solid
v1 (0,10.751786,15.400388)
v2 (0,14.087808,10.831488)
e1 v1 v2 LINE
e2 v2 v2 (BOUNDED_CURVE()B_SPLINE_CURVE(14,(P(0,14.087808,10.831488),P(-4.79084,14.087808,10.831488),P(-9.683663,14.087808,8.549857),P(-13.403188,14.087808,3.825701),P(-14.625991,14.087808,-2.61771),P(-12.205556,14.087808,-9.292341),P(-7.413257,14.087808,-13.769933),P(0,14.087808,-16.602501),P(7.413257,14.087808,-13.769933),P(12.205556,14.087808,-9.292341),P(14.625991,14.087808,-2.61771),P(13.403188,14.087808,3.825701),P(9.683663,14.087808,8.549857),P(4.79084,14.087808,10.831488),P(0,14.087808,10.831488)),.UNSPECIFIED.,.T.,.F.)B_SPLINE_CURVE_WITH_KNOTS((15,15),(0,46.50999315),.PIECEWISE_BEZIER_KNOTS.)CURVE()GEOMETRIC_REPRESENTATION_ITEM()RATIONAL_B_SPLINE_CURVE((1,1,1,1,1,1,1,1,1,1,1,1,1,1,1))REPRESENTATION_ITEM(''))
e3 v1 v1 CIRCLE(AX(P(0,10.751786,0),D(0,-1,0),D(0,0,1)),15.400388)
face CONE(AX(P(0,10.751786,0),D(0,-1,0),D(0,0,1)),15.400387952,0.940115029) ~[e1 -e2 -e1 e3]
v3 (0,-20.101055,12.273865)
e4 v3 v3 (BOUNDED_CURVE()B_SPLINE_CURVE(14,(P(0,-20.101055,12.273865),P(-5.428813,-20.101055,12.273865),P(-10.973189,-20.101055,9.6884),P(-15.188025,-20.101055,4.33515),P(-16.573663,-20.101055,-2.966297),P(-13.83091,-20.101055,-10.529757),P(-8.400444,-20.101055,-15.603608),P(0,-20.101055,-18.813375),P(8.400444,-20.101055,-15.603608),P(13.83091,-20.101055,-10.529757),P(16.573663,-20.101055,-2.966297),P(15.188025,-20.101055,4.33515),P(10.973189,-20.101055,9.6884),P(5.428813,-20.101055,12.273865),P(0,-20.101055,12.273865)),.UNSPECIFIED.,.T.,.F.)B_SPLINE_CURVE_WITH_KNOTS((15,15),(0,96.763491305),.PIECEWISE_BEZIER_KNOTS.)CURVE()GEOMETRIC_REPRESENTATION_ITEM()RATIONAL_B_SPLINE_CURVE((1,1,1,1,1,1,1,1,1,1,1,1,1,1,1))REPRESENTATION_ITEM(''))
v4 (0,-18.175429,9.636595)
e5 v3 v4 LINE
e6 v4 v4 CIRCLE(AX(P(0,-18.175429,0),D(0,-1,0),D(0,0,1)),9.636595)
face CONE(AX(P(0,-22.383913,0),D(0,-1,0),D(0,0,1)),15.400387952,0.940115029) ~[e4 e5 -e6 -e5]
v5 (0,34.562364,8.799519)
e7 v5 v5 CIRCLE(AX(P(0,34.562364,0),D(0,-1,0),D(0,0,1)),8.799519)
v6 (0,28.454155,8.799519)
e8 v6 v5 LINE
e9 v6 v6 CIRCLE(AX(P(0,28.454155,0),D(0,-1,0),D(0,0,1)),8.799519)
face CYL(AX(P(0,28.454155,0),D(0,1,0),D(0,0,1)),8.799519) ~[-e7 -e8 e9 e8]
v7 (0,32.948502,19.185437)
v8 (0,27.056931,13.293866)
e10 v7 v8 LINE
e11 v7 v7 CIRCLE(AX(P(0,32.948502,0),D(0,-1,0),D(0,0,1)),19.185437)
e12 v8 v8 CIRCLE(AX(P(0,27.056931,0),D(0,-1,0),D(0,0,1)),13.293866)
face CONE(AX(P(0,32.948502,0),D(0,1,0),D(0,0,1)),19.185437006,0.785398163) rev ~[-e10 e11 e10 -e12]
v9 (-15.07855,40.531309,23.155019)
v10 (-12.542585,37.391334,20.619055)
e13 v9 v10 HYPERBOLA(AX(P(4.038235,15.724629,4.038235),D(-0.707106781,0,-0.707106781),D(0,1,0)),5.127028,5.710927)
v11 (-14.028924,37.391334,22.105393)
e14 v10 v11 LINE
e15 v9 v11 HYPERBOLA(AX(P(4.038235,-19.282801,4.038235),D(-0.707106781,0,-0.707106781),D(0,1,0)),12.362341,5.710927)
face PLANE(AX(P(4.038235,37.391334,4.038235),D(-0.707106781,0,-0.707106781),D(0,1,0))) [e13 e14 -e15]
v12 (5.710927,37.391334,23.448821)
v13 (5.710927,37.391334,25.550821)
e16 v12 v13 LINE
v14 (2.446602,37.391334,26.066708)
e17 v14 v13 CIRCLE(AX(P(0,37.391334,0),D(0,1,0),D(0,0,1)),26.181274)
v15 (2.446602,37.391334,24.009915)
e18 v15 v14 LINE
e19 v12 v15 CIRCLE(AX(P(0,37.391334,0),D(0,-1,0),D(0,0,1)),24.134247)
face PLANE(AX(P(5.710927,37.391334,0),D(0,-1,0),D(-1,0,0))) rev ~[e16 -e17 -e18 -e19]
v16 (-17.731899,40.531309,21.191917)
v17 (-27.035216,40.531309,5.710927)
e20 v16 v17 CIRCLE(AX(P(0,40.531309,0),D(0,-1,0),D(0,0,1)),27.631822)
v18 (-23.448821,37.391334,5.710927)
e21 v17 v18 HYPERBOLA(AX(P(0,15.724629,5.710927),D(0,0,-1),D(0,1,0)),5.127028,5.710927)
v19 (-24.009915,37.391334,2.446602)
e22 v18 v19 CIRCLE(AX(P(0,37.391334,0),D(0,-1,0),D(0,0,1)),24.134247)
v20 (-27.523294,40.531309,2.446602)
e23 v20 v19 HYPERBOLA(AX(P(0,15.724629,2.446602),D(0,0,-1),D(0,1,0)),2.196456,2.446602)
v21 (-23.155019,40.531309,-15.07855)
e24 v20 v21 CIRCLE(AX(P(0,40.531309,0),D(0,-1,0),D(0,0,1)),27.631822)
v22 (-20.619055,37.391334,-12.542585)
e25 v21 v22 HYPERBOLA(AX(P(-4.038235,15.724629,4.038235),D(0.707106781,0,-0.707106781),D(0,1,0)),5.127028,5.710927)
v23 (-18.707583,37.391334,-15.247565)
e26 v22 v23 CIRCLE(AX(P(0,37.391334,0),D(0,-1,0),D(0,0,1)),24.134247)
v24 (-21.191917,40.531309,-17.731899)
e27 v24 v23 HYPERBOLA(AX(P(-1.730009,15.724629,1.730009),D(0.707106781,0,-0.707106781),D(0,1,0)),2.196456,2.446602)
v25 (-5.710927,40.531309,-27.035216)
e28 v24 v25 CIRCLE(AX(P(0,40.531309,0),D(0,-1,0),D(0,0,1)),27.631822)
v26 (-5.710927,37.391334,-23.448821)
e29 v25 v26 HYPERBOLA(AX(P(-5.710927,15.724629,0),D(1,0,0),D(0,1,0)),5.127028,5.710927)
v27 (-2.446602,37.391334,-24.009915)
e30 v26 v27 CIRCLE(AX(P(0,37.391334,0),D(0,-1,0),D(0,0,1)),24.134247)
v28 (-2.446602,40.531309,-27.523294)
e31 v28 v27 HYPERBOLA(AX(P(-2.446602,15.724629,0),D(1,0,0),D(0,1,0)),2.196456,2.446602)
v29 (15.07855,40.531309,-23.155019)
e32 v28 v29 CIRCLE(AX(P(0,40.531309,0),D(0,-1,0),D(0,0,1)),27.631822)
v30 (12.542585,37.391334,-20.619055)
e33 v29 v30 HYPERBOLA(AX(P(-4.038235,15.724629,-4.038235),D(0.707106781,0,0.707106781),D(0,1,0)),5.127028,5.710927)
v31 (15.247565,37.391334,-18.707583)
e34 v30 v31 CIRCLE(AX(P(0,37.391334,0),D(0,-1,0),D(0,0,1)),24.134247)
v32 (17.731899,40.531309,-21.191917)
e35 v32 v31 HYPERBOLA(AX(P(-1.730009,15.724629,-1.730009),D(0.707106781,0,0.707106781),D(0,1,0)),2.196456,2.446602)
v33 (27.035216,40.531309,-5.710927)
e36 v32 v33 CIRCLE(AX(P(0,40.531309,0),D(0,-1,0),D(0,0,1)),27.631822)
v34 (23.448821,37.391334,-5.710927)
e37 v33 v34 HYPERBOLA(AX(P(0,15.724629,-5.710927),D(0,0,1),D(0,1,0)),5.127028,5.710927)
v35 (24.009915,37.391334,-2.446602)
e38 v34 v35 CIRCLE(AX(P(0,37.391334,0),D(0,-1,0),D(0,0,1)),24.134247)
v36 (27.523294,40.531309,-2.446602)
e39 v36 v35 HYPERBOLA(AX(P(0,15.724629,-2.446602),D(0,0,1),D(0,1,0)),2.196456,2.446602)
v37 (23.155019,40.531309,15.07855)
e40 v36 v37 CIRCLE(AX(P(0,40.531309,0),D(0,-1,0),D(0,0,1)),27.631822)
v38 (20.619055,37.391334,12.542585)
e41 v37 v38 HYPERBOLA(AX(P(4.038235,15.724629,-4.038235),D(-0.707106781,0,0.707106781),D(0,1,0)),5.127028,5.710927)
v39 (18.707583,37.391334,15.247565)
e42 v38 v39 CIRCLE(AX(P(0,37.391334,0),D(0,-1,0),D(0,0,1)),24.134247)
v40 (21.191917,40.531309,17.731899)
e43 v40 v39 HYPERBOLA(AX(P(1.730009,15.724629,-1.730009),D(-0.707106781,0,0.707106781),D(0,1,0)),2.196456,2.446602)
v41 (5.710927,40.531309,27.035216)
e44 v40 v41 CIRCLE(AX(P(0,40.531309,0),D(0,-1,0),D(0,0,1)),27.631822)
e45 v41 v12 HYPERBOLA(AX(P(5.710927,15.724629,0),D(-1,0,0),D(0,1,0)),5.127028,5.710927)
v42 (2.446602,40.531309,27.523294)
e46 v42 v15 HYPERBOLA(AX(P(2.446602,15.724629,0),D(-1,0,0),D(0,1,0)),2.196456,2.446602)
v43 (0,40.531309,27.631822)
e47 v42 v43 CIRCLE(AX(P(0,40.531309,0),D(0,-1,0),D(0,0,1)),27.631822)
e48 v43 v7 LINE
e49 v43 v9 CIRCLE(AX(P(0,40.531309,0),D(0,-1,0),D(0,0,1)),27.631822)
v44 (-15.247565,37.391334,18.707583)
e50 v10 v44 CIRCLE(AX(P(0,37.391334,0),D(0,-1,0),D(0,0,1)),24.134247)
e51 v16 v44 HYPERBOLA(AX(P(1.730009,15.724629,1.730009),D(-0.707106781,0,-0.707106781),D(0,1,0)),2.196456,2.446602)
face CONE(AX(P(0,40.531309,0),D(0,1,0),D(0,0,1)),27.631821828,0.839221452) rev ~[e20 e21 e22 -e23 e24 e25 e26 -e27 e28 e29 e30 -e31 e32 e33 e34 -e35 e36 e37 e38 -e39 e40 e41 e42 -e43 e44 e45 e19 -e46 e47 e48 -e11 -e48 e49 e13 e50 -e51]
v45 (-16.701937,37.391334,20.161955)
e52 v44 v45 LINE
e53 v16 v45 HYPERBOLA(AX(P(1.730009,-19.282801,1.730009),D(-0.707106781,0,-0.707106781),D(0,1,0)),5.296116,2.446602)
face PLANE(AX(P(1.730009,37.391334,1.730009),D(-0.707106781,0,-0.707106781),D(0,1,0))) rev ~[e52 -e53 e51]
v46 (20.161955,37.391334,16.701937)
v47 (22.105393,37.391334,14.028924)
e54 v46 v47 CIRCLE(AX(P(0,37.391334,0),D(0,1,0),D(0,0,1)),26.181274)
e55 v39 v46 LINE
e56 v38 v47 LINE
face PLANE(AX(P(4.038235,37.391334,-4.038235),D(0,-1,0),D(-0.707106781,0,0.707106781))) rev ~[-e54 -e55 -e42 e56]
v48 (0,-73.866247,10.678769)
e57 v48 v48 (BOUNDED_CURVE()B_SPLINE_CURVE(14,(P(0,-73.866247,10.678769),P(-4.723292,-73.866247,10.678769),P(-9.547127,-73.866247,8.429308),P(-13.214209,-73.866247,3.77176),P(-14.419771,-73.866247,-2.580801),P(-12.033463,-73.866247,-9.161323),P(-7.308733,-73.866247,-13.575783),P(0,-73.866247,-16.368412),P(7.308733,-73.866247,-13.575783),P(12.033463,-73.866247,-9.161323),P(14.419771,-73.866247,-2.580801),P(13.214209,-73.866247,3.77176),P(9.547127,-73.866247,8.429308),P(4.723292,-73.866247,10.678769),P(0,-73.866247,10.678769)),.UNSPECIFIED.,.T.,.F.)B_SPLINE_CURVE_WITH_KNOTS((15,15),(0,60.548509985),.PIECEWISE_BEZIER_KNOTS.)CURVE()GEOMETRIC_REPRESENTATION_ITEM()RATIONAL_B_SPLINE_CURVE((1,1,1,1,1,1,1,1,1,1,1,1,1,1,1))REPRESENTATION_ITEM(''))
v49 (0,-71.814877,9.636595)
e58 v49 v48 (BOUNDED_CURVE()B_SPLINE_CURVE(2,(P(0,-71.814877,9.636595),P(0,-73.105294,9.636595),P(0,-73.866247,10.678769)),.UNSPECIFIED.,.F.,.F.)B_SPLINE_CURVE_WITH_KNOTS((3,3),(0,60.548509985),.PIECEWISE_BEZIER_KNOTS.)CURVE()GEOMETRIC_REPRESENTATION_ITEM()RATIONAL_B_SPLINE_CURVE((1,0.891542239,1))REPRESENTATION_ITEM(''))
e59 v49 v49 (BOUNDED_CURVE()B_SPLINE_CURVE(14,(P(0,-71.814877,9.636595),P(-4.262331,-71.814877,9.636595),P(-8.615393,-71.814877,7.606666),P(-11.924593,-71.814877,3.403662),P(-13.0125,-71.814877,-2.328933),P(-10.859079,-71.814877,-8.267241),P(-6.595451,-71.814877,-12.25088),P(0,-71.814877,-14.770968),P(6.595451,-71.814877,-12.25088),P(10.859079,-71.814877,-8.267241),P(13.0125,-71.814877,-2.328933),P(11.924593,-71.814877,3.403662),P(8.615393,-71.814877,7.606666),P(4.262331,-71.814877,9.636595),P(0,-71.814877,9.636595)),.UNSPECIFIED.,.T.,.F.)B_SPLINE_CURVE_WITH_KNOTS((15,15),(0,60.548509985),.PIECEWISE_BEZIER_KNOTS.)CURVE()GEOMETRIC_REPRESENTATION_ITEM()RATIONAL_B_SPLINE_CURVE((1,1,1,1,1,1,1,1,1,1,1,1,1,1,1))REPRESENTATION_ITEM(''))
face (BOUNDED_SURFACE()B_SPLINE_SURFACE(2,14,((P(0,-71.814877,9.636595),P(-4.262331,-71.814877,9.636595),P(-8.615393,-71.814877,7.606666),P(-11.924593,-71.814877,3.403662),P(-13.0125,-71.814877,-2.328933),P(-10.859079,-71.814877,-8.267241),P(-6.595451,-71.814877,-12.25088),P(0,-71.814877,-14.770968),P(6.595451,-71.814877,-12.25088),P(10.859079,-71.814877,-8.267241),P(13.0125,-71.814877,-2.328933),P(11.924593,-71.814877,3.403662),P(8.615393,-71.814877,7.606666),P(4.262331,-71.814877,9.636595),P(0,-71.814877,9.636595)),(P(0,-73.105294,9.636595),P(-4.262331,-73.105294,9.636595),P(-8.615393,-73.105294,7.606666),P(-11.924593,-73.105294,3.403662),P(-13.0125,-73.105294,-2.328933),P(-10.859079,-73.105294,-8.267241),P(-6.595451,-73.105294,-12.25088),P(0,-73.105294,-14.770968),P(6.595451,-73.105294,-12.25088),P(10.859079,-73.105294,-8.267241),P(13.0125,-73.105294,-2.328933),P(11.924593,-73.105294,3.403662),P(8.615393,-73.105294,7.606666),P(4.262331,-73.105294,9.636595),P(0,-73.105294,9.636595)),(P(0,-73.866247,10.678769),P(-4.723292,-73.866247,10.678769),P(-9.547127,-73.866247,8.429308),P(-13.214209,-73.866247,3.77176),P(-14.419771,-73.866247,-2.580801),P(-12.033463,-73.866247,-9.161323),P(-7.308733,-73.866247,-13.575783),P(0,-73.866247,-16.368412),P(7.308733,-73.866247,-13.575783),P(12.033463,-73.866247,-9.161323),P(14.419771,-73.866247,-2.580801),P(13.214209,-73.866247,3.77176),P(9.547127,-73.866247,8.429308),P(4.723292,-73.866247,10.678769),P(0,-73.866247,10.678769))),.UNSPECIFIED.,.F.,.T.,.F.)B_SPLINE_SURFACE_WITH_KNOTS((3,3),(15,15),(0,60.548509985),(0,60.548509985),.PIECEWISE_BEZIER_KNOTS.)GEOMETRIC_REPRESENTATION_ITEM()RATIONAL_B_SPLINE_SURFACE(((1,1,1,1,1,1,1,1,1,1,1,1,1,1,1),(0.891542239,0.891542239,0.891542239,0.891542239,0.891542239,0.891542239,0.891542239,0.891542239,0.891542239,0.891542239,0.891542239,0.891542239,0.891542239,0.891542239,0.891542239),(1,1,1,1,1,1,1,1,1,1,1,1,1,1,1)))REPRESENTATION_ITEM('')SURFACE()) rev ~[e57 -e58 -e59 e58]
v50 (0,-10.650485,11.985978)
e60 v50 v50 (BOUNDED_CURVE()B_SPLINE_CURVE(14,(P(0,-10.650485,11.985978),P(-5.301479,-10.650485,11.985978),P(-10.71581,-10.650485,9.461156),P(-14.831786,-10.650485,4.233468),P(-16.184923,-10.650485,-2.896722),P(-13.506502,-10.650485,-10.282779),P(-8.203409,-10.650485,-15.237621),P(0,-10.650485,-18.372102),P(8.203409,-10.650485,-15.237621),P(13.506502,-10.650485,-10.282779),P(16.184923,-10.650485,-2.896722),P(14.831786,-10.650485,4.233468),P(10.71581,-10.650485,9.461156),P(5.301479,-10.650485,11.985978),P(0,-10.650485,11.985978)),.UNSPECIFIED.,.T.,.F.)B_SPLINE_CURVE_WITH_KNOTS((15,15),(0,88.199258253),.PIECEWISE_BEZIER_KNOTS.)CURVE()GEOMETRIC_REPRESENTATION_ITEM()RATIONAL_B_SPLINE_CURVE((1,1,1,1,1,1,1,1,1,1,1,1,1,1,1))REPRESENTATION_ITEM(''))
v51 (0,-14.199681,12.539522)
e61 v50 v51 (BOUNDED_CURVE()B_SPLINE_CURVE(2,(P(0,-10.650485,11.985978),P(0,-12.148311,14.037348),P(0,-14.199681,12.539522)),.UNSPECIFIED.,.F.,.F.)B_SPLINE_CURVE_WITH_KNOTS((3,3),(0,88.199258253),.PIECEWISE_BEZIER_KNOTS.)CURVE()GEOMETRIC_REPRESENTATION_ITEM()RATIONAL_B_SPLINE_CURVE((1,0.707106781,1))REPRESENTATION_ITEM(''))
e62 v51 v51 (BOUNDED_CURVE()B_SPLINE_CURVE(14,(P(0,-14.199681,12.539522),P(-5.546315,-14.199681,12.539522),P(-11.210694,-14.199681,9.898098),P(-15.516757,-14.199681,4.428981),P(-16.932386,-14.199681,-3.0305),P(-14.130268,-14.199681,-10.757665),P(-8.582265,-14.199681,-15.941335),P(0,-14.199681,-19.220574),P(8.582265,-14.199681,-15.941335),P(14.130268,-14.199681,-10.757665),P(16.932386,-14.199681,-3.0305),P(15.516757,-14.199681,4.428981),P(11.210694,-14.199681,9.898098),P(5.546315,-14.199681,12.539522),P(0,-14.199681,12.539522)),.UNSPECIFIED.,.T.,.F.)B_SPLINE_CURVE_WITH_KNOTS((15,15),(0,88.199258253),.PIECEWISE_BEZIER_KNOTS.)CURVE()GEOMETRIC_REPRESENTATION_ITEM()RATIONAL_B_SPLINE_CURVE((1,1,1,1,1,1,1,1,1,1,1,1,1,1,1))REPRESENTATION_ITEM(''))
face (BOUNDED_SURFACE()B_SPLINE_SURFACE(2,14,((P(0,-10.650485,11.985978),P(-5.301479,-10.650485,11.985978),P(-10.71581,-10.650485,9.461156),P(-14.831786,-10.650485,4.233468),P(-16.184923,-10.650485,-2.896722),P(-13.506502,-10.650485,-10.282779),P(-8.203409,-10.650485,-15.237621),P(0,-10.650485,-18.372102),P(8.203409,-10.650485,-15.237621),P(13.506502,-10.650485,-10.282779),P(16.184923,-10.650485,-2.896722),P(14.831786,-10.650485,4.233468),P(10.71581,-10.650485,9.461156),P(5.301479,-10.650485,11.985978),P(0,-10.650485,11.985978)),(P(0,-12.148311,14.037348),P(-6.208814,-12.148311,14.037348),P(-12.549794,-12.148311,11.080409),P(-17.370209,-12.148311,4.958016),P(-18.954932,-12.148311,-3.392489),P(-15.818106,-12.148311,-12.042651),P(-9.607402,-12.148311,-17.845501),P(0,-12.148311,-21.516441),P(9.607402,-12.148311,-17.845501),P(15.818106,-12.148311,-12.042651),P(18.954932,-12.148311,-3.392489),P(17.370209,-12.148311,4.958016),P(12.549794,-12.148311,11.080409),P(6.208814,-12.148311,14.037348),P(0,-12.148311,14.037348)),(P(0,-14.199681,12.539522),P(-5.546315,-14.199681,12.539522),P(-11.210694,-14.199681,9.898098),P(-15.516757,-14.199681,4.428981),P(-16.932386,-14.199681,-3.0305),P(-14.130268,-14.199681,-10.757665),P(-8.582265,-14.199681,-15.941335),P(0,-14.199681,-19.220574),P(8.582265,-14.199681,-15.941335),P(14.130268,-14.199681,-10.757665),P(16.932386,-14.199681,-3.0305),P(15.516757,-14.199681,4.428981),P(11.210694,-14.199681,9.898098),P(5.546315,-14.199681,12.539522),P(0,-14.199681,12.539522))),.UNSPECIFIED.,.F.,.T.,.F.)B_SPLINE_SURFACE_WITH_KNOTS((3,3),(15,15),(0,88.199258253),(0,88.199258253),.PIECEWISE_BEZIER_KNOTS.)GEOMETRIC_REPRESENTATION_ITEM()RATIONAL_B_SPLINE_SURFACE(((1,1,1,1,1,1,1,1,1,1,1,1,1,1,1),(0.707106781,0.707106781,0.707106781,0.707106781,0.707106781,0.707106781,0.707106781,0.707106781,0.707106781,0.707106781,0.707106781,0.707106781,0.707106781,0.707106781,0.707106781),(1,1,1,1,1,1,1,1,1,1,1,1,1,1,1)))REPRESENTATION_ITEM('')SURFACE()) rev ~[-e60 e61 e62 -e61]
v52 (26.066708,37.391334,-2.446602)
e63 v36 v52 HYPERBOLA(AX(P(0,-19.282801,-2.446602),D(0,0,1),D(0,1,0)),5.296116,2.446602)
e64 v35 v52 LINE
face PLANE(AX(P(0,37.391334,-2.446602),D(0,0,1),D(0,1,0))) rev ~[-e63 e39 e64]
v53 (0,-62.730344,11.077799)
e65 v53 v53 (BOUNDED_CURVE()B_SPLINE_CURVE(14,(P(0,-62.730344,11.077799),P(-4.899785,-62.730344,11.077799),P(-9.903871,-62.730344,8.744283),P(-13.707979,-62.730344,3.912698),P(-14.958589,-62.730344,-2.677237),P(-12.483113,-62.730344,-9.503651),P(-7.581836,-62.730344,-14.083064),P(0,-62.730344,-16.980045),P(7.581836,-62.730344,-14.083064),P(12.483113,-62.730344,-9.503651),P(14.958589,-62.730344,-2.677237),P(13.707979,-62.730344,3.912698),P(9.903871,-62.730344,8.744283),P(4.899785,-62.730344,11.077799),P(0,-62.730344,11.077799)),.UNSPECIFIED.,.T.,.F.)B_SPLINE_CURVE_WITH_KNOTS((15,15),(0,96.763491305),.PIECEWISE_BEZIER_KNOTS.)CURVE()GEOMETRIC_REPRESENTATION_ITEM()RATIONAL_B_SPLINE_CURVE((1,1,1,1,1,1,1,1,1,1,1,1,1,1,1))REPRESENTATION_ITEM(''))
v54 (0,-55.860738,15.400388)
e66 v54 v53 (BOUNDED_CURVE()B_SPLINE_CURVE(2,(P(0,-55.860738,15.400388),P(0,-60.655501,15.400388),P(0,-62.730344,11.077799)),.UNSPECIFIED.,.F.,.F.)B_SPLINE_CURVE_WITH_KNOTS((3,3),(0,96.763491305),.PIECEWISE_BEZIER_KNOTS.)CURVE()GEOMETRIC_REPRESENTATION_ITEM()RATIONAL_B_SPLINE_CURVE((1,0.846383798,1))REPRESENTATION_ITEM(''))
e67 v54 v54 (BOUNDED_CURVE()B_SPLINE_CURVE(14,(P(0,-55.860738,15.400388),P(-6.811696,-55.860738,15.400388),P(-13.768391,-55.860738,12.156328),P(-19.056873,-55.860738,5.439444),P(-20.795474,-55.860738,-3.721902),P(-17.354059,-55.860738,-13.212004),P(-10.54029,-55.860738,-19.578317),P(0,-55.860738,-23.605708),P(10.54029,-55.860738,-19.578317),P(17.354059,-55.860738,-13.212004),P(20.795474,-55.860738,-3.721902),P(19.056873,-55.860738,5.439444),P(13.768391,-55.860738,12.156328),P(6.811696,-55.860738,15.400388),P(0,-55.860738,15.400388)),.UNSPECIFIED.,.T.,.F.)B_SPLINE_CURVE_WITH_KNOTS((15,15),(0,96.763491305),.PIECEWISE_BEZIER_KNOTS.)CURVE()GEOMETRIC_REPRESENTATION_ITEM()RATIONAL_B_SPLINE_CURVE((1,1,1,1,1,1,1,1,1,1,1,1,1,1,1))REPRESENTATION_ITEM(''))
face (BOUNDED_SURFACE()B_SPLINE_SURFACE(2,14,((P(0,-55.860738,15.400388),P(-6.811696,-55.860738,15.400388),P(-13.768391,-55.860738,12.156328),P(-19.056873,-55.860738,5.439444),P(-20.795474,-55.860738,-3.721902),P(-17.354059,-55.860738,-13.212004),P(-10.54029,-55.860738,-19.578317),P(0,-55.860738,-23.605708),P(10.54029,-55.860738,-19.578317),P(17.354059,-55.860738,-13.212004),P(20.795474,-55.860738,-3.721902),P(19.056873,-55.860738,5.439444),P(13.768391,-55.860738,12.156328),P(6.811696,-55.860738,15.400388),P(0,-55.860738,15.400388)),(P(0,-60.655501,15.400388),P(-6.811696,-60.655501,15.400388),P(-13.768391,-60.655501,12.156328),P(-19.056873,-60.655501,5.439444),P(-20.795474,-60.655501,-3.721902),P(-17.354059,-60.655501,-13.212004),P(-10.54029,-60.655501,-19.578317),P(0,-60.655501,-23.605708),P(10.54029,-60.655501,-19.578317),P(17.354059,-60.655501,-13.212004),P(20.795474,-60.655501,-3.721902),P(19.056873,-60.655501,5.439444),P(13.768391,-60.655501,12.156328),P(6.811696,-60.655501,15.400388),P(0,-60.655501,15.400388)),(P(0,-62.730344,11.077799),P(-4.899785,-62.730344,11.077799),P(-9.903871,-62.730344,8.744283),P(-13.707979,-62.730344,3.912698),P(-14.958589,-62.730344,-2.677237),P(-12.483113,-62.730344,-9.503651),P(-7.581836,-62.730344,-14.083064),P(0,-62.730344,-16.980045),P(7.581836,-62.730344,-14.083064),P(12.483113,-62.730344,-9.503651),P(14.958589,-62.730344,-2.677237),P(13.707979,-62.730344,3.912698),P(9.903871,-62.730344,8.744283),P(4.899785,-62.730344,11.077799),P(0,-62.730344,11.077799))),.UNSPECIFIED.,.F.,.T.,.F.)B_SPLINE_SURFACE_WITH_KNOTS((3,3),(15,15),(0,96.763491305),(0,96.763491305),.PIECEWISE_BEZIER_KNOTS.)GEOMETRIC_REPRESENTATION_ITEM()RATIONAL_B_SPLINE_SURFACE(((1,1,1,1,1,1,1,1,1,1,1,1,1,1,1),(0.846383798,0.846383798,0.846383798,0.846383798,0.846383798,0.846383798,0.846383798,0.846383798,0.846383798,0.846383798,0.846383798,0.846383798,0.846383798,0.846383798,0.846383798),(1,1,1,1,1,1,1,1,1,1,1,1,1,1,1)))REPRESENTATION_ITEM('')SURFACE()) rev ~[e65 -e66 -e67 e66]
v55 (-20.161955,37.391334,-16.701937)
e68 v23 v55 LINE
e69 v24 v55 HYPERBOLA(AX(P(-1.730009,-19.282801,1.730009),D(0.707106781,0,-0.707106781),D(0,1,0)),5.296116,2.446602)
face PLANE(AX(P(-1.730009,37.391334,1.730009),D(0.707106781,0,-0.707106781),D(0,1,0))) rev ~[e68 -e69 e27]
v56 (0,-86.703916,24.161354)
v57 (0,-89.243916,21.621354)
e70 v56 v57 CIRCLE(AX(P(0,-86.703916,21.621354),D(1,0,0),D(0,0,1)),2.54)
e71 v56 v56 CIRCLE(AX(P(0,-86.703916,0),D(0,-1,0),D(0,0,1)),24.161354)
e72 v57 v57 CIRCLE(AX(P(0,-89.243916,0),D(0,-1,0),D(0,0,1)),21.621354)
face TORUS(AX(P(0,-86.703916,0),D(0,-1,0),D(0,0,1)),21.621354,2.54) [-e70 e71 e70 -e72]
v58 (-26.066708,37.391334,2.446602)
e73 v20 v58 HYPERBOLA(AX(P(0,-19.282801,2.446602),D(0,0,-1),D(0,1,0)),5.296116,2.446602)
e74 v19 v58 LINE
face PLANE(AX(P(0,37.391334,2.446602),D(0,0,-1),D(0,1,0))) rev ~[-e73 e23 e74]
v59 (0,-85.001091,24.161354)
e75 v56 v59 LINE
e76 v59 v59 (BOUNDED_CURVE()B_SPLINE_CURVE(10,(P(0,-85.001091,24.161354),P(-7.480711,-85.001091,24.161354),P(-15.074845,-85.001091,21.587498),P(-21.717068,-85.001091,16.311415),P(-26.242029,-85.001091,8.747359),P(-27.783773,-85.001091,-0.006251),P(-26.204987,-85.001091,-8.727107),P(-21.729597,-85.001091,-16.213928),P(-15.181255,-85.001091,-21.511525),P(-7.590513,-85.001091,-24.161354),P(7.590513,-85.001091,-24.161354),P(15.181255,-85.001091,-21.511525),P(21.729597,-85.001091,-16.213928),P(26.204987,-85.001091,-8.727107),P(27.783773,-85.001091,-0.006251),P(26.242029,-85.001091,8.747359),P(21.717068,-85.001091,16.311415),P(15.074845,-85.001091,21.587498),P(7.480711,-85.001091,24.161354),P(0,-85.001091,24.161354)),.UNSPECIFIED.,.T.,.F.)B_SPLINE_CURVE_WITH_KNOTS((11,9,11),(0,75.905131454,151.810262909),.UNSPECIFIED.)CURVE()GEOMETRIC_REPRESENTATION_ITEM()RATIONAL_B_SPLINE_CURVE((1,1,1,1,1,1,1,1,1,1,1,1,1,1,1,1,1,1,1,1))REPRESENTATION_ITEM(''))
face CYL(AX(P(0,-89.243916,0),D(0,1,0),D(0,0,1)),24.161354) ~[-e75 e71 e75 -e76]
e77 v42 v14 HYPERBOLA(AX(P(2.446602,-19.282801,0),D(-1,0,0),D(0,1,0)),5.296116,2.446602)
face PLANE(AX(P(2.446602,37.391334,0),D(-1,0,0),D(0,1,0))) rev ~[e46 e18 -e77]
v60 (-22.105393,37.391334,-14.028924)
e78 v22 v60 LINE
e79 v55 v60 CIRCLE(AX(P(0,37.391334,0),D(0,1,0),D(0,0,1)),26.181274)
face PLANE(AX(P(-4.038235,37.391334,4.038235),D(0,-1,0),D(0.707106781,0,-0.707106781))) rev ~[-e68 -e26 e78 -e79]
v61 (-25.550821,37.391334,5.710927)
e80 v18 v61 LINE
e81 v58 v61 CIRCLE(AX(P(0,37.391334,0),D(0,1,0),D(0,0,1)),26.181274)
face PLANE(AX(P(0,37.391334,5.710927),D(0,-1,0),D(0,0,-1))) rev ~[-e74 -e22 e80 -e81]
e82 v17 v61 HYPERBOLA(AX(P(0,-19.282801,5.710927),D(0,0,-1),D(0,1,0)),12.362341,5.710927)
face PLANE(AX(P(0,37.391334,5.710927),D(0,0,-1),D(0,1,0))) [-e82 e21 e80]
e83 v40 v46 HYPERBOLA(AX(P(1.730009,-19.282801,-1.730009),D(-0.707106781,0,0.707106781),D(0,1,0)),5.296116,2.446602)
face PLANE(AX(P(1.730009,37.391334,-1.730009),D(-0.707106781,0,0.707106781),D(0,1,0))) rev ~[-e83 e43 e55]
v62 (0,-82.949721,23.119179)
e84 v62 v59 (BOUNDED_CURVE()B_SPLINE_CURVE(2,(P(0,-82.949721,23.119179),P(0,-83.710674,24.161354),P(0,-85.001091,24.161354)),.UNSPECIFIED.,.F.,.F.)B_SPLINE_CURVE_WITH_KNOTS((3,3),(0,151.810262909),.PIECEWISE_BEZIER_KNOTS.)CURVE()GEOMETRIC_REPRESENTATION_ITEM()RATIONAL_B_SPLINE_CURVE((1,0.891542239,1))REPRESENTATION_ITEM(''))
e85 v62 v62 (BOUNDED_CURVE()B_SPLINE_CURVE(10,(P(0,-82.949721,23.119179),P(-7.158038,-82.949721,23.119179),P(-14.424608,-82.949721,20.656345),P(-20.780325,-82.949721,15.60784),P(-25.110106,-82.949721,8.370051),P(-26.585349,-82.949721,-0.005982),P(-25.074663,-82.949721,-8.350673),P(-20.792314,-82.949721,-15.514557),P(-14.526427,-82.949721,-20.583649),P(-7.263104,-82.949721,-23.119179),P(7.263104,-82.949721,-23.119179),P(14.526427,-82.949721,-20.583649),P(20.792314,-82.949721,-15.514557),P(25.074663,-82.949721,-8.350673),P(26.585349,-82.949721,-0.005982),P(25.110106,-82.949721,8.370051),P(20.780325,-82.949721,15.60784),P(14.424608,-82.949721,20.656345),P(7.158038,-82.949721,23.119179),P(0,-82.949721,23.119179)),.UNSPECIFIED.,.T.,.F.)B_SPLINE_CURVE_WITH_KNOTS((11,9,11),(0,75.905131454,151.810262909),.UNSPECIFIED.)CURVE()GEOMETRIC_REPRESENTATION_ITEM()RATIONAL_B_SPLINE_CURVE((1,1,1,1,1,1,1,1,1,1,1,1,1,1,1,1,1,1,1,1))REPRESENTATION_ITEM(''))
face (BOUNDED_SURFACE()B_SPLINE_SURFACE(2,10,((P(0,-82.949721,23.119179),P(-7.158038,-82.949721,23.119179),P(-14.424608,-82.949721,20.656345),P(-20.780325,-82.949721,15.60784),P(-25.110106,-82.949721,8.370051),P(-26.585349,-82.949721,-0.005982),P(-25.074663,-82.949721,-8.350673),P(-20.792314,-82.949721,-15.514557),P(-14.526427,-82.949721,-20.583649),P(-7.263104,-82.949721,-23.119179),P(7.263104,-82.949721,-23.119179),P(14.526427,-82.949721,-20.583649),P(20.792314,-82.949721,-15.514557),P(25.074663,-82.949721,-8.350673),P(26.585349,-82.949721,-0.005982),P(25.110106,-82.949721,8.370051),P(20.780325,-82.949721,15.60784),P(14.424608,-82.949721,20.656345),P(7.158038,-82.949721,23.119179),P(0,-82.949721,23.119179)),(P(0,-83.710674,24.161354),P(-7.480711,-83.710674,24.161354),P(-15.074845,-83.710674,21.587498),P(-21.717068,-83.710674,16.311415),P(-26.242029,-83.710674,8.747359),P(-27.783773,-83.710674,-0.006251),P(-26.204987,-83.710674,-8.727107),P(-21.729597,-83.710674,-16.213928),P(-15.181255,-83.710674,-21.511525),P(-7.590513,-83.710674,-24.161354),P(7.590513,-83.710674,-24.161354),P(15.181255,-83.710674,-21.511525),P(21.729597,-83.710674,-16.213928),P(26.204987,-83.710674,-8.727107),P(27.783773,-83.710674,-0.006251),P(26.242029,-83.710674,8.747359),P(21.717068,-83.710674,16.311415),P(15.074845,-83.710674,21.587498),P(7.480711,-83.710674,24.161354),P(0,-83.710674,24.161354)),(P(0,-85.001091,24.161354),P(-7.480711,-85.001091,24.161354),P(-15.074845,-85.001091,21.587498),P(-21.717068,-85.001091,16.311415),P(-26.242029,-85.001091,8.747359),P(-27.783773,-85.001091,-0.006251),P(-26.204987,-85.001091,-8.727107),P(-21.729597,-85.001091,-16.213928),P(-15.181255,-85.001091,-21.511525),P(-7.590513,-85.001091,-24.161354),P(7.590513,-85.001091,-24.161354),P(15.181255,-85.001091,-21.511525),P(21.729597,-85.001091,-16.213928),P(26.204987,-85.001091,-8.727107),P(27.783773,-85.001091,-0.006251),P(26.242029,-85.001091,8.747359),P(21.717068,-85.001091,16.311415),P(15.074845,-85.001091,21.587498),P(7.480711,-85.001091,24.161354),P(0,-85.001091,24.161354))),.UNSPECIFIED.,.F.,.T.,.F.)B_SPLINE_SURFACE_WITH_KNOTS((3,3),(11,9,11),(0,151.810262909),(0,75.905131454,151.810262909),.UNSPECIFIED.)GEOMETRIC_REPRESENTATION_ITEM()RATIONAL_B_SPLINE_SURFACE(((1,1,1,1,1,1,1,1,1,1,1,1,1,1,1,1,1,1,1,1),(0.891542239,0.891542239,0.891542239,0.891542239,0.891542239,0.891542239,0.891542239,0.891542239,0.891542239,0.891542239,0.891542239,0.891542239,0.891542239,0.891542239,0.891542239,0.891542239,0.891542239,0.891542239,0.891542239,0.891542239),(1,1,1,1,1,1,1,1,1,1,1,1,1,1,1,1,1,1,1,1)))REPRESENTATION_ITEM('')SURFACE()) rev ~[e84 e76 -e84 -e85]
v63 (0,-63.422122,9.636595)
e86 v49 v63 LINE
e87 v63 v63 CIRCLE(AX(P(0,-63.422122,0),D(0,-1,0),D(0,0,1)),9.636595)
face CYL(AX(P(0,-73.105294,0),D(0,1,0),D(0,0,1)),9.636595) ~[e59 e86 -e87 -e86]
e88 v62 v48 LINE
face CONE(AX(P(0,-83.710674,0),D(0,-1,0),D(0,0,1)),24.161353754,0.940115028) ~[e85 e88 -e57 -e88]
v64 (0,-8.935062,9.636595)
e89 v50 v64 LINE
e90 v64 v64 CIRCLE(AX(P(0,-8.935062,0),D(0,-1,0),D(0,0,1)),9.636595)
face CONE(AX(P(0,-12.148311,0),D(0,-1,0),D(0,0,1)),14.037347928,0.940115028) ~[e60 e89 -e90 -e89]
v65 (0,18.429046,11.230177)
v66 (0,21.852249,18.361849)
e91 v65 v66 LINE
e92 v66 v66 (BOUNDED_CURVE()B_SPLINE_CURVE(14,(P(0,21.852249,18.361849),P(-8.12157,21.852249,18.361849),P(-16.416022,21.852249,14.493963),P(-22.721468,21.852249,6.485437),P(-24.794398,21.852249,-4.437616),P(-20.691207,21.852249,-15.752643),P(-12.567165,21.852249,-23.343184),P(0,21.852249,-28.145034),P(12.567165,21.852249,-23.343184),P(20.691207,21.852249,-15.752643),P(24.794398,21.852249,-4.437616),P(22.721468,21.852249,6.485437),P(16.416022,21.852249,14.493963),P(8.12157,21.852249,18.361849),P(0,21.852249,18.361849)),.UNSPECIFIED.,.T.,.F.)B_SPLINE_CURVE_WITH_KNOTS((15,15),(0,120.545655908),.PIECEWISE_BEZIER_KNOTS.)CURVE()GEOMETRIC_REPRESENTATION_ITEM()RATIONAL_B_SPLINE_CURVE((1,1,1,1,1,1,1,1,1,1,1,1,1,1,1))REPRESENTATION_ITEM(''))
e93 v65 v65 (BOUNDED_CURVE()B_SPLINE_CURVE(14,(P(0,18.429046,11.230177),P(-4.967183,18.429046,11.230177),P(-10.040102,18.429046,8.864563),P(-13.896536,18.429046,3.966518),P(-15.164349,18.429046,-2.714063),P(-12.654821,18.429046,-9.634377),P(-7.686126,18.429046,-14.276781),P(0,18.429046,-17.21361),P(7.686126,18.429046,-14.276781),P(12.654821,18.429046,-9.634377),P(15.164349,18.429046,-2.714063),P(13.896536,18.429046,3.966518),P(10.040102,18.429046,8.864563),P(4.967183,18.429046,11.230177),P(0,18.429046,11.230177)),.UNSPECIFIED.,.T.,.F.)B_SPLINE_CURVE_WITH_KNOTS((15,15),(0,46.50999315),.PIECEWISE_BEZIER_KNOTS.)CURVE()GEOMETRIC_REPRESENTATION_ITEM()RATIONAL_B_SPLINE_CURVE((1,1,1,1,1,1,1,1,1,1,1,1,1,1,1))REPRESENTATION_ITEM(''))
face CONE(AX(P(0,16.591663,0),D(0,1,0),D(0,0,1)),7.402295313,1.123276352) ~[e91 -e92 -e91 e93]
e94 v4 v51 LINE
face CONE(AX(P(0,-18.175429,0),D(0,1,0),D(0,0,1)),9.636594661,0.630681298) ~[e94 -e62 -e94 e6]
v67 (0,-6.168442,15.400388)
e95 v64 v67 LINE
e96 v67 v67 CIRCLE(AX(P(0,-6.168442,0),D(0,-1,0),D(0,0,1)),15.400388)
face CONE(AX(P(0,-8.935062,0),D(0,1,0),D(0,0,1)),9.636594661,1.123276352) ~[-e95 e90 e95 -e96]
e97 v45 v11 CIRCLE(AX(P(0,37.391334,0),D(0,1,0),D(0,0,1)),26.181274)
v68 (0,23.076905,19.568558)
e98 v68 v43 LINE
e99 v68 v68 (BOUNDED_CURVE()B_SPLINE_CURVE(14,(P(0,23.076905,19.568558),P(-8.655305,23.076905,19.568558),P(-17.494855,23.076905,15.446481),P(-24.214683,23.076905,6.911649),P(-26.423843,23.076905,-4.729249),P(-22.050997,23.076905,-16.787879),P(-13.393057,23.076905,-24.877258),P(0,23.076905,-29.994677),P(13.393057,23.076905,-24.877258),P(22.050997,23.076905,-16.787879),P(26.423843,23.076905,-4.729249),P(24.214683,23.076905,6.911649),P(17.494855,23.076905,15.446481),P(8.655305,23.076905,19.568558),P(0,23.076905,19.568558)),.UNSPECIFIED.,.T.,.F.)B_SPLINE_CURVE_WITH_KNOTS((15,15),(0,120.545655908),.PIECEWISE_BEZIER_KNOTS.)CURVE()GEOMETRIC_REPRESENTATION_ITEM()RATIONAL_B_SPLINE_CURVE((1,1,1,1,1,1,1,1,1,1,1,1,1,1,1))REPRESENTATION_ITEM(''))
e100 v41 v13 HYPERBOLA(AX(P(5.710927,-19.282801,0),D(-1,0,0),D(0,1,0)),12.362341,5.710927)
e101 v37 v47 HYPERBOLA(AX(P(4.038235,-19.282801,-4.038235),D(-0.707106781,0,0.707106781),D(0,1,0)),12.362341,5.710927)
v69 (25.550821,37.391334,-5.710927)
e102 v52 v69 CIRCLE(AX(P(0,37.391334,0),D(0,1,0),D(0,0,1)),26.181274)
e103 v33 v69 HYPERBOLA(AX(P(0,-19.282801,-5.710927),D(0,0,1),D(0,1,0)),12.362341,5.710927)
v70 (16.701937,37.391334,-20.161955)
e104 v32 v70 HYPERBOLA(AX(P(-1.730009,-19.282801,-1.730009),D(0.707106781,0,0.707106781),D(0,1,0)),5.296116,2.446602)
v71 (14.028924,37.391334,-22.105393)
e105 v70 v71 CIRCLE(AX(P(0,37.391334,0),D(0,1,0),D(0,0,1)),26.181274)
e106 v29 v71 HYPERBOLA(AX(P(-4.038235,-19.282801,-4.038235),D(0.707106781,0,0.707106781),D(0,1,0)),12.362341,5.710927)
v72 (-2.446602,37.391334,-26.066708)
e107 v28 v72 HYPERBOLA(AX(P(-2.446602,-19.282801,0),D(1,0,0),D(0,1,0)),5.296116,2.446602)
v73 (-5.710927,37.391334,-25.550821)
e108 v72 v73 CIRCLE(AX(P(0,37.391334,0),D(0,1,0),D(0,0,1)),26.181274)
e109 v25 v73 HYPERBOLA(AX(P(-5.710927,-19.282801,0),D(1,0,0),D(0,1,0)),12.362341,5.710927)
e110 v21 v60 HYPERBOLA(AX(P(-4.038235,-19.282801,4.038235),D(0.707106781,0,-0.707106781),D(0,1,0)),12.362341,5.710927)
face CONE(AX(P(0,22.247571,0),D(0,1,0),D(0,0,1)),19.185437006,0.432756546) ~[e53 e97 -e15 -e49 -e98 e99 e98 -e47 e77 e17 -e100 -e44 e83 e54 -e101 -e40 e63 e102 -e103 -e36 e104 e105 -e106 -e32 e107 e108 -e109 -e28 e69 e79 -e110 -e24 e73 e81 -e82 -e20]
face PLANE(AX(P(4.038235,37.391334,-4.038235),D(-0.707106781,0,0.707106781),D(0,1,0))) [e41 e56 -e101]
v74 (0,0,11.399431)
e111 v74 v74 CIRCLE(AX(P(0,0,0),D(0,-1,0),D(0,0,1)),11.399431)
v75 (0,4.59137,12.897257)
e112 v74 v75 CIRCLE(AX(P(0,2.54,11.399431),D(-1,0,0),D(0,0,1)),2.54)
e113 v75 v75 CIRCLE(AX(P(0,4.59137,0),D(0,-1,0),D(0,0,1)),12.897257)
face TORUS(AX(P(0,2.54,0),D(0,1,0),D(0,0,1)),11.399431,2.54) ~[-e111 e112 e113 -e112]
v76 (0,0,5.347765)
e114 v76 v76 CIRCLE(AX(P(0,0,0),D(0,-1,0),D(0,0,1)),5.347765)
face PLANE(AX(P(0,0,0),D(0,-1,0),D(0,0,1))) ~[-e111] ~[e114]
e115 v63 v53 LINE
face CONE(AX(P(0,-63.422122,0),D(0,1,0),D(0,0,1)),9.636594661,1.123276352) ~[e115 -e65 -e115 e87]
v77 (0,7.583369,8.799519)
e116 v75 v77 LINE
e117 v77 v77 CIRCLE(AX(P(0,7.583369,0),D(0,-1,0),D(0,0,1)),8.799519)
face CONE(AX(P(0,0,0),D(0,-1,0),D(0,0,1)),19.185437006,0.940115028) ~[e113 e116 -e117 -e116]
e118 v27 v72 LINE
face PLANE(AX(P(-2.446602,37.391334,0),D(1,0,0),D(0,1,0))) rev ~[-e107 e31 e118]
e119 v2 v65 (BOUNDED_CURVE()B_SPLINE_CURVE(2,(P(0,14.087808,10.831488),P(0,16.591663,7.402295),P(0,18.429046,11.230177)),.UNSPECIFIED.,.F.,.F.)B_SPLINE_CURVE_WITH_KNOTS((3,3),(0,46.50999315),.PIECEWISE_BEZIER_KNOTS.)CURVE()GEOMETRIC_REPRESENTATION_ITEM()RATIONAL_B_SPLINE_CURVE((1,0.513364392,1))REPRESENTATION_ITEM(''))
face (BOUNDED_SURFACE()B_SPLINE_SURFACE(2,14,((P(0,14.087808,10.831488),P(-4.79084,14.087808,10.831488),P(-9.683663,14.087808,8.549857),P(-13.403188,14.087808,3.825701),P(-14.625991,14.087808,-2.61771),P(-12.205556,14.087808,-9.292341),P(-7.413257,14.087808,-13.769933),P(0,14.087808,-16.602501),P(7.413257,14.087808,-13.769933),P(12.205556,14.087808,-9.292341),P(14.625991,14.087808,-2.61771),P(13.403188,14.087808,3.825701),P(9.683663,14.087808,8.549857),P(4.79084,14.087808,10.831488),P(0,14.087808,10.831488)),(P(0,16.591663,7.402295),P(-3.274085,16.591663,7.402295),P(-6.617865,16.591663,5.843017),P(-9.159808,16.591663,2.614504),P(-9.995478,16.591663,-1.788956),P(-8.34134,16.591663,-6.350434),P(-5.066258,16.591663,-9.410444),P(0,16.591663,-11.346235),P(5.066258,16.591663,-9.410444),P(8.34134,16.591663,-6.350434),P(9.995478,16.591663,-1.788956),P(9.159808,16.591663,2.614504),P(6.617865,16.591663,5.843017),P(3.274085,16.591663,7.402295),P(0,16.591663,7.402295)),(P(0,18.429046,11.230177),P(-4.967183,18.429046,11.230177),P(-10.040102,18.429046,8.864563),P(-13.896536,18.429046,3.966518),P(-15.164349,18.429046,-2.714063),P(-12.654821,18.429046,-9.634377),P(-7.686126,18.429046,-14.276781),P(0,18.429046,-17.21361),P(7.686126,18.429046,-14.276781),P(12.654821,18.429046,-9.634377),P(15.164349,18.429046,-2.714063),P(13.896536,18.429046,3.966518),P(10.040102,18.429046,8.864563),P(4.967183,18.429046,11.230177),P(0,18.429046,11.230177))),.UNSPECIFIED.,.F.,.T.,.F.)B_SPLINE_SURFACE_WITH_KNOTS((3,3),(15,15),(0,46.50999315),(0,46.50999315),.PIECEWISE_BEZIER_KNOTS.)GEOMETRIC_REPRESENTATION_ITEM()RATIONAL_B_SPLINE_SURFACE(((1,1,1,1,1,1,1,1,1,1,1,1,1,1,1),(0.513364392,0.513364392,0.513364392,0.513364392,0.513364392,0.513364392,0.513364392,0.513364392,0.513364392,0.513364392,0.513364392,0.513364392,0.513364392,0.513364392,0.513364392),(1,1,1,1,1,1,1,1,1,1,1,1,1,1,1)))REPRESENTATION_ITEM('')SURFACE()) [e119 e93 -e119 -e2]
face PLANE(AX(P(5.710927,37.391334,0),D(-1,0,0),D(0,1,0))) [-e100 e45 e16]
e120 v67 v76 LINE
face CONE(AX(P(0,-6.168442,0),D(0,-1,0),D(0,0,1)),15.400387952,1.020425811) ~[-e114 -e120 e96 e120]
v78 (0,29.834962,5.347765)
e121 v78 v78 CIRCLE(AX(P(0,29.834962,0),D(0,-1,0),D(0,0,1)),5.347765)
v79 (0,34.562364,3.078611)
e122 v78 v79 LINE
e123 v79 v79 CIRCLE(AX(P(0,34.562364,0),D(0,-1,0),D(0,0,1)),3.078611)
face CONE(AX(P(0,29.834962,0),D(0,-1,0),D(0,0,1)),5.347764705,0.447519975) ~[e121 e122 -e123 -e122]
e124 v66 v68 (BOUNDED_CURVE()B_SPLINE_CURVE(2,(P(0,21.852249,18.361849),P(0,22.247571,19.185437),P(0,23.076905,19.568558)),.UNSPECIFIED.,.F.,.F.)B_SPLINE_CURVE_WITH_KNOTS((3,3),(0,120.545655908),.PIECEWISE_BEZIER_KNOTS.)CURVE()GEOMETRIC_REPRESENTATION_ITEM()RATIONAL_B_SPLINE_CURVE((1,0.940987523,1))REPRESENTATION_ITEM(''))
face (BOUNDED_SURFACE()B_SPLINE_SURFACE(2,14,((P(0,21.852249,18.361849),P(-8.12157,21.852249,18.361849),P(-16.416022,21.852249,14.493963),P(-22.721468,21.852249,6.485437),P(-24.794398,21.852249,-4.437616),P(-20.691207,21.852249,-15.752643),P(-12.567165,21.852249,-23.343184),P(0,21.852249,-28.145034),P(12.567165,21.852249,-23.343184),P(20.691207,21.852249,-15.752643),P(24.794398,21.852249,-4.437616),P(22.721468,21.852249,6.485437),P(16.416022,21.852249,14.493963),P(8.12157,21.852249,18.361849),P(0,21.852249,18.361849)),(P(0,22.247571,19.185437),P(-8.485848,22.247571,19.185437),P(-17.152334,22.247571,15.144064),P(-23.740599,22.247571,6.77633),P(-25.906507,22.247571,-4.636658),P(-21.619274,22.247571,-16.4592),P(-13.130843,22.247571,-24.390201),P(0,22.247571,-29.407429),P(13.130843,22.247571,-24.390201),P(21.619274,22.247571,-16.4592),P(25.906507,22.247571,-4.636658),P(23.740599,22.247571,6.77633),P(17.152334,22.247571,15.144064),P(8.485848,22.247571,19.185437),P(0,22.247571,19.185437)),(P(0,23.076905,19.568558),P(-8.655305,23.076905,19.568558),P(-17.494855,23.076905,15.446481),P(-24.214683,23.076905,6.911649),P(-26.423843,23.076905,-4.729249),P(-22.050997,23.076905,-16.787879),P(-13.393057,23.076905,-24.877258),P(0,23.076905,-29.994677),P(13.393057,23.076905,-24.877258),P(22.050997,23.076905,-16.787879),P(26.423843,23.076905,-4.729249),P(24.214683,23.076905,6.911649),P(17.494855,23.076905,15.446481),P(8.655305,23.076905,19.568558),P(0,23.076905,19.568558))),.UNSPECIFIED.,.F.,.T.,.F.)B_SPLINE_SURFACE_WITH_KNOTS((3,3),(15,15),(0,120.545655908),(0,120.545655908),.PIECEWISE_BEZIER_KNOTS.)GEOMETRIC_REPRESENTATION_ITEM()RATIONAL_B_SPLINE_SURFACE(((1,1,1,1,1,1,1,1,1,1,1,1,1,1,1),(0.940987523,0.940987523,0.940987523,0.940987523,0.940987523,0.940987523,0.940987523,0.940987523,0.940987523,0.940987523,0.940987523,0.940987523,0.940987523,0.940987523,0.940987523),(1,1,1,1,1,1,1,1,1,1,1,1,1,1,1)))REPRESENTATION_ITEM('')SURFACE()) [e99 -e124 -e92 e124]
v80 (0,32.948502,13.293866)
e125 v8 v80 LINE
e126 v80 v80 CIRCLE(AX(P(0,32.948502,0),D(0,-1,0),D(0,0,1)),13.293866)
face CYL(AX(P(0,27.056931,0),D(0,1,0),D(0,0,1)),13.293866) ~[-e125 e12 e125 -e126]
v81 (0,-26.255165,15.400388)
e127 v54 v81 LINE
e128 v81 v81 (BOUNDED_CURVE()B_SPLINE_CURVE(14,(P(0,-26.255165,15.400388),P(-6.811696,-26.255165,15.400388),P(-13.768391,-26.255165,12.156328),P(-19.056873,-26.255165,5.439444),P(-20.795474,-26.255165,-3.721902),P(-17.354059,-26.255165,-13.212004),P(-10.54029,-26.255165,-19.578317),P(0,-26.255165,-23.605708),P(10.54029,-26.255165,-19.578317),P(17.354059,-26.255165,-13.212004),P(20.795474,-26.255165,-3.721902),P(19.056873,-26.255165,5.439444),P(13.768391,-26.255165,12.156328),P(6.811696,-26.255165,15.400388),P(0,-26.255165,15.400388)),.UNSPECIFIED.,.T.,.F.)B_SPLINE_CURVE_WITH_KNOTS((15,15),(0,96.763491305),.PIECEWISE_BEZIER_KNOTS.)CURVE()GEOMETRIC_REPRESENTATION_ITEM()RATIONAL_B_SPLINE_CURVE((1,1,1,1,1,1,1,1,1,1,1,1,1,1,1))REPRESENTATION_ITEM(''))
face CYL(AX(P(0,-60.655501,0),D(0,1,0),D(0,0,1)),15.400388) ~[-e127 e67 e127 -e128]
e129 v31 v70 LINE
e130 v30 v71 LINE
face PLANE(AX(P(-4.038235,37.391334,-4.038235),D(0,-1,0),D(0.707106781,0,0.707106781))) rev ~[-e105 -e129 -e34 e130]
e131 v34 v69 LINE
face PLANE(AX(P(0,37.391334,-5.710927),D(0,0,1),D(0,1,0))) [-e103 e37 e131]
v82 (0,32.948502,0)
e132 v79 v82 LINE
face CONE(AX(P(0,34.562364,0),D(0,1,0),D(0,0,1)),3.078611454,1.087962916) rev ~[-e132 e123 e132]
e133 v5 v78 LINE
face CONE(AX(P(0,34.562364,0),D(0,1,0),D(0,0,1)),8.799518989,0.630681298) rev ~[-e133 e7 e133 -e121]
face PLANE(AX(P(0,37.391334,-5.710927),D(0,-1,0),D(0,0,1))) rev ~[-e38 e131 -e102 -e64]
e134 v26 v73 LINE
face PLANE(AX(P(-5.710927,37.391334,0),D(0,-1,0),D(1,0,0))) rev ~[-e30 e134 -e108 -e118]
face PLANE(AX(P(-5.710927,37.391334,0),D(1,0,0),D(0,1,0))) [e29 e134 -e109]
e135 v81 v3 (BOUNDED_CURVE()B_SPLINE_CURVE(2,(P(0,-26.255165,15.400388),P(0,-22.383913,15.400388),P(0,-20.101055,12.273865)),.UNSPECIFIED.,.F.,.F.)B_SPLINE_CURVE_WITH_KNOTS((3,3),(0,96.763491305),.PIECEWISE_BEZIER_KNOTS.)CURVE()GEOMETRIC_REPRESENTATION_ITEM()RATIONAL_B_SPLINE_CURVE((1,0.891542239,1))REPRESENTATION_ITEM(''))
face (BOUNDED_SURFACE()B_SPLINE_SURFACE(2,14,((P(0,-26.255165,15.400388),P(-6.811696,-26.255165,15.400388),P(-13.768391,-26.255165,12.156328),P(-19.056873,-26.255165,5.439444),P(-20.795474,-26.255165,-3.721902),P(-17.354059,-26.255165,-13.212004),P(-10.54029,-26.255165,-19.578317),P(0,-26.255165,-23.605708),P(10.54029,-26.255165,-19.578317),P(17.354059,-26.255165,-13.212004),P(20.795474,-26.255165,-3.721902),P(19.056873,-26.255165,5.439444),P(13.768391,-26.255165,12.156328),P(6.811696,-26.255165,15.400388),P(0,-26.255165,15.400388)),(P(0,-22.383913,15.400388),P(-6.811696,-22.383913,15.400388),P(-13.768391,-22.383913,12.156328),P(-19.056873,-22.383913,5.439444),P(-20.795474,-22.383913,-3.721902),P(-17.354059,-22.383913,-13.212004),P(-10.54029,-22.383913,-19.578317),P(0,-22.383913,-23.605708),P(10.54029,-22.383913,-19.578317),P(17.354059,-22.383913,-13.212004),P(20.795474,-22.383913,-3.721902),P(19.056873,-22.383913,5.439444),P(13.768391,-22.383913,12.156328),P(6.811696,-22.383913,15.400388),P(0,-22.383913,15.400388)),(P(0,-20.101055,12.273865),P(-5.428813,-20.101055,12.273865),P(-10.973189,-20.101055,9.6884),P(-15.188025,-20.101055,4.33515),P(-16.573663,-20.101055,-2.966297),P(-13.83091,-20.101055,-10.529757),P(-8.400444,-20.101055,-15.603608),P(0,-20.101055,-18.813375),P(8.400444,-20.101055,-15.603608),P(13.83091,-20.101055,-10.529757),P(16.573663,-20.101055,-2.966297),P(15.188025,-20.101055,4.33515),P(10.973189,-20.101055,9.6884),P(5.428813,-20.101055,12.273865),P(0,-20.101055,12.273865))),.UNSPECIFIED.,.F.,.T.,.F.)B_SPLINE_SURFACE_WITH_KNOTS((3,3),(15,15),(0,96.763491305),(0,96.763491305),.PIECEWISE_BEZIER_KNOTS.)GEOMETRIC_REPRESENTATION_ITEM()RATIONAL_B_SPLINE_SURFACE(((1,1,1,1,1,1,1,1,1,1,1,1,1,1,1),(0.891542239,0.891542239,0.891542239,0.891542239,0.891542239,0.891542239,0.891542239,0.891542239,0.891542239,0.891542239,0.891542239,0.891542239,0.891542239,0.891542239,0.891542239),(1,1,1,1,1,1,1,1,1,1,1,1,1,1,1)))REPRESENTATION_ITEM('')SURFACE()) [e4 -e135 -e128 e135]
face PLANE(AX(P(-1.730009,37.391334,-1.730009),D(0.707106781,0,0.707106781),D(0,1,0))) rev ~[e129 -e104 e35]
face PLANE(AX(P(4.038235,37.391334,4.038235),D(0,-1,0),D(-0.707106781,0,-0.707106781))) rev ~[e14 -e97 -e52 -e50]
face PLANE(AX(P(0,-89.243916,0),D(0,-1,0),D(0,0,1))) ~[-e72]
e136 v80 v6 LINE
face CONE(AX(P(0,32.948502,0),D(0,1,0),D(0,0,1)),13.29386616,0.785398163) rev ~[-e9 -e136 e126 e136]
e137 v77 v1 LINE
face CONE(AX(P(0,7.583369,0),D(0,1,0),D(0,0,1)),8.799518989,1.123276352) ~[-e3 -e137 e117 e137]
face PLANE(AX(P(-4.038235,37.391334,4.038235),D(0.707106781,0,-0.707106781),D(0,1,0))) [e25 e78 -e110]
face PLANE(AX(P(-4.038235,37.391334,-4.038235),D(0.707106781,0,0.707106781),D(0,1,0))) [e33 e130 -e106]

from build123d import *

# Parameters (mm, degrees)
FILLET1_R          = 7.62
FILLET2_R          = 7.62
FILLET3_R          = 2.54
FILLET4_R          = 2.54
FILLET7_R          = 2.54
FILLET8_R          = 2.54
FILLET9_R          = 2.54
SKETCH2_W          = 3.264324392
SKETCH2_H          = 6.37532256
CUT_EXTRUDE3_DEPTH = 41.402
CIRPATTERN3_COUNT  = 8


with BuildPart() as part:
    # Sketch1 → Revolve2 (revolve)
    with BuildSketch(Plane.XY, mode=Mode.PRIVATE) as revolve2_sk:
        Polygon((0, 32.948502172), (0, -89.243915593), (24.161353754, -89.243915593), (24.161353754, -83.710674034), (9.636594661, -73.105294378), (9.636594661, -63.42212165), (15.400387952, -60.65550087), (15.400387952, -46.130741778), (15.400387952, -35.294810391), (15.400387952, -22.383913419), (9.636594661, -18.175429429), (14.037347928, -12.148310825), (9.636594661, -8.935062408), (15.400387952, -6.168441628), (5.347764705, 0), (19.185437006, 0), (8.799518989, 7.583368711), (15.400387952, 10.751785814), (7.402295313, 16.591662978), (19.185437006, 22.247570991), (27.631821828, 40.531309107), (19.185437006, 32.948502172), (13.29386616, 27.056931325), (13.29386616, 32.948502172), (8.799518989, 28.454155001), (8.799518989, 34.562364294), (5.347764705, 29.834961688), (3.078611454, 34.562364294), align=None)
    revolve(revolve2_sk.sketch.rotate(Axis((0, 32.948502172, 0), (0, -1, 0)), 90), axis=Axis((0, 32.948502172, 0), (0, -1, 0)))

    # Fillet1
    fillet1_edges = [part.edges().sort_by_distance(p)[0] for p in [
        (0, -22.383913419, -15.400387952),
    ]]
    fillet(fillet1_edges, radius=FILLET1_R)

    # Fillet2
    fillet2_edges = [part.edges().sort_by_distance(p)[0] for p in [
        (0, -60.65550087, -15.400387952),
    ]]
    fillet(fillet2_edges, radius=FILLET2_R)

    # Fillet3
    fillet3_edges = [part.edges().sort_by_distance(p)[0] for p in [
        (0, -73.105294378, -9.636594661),
    ]]
    fillet(fillet3_edges, radius=FILLET3_R)

    # Fillet4
    fillet4_edges = [part.edges().sort_by_distance(p)[0] for p in [
        (0, -89.243915593, -24.161353754),
        (0, -83.710674034, -24.161353754),
    ]]
    fillet(fillet4_edges, radius=FILLET4_R)

    # Fillet7
    fillet7_edges = [part.edges().sort_by_distance(p)[0] for p in [
        (0, 0, -19.185437006),
    ]]
    fillet(fillet7_edges, radius=FILLET7_R)

    # Fillet8
    fillet8_edges = [part.edges().sort_by_distance(p)[0] for p in [
        (0, -12.148310825, -14.037347928),
    ]]
    fillet(fillet8_edges, radius=FILLET8_R)

    # Fillet9
    fillet9_edges = [part.edges().sort_by_distance(p)[0] for p in [
        (0, 16.591662978, -7.402295313),
        (0, 22.247570991, -19.185437006),
    ]]
    fillet(fillet9_edges, radius=FILLET9_R)

    # Sketch2 → Cut-Extrude3 (cut)
    with BuildSketch(Plane.XY):
        with Locations((-4.078764411, 40.578995726)):
            Rectangle(SKETCH2_W, SKETCH2_H)
    cut_extrude3 = extrude(amount=-CUT_EXTRUDE3_DEPTH, mode=Mode.SUBTRACT)

    # CirPattern3: Cut-Extrude3 ×8 about axis
    cirpattern3_axis = Axis((0, 0, 0), (0, 1, 0))
    for i in range(1, CIRPATTERN3_COUNT):
        add(cut_extrude3.rotate(cirpattern3_axis, i * 360 / CIRPATTERN3_COUNT), mode=Mode.SUBTRACT)


solid = part.part
